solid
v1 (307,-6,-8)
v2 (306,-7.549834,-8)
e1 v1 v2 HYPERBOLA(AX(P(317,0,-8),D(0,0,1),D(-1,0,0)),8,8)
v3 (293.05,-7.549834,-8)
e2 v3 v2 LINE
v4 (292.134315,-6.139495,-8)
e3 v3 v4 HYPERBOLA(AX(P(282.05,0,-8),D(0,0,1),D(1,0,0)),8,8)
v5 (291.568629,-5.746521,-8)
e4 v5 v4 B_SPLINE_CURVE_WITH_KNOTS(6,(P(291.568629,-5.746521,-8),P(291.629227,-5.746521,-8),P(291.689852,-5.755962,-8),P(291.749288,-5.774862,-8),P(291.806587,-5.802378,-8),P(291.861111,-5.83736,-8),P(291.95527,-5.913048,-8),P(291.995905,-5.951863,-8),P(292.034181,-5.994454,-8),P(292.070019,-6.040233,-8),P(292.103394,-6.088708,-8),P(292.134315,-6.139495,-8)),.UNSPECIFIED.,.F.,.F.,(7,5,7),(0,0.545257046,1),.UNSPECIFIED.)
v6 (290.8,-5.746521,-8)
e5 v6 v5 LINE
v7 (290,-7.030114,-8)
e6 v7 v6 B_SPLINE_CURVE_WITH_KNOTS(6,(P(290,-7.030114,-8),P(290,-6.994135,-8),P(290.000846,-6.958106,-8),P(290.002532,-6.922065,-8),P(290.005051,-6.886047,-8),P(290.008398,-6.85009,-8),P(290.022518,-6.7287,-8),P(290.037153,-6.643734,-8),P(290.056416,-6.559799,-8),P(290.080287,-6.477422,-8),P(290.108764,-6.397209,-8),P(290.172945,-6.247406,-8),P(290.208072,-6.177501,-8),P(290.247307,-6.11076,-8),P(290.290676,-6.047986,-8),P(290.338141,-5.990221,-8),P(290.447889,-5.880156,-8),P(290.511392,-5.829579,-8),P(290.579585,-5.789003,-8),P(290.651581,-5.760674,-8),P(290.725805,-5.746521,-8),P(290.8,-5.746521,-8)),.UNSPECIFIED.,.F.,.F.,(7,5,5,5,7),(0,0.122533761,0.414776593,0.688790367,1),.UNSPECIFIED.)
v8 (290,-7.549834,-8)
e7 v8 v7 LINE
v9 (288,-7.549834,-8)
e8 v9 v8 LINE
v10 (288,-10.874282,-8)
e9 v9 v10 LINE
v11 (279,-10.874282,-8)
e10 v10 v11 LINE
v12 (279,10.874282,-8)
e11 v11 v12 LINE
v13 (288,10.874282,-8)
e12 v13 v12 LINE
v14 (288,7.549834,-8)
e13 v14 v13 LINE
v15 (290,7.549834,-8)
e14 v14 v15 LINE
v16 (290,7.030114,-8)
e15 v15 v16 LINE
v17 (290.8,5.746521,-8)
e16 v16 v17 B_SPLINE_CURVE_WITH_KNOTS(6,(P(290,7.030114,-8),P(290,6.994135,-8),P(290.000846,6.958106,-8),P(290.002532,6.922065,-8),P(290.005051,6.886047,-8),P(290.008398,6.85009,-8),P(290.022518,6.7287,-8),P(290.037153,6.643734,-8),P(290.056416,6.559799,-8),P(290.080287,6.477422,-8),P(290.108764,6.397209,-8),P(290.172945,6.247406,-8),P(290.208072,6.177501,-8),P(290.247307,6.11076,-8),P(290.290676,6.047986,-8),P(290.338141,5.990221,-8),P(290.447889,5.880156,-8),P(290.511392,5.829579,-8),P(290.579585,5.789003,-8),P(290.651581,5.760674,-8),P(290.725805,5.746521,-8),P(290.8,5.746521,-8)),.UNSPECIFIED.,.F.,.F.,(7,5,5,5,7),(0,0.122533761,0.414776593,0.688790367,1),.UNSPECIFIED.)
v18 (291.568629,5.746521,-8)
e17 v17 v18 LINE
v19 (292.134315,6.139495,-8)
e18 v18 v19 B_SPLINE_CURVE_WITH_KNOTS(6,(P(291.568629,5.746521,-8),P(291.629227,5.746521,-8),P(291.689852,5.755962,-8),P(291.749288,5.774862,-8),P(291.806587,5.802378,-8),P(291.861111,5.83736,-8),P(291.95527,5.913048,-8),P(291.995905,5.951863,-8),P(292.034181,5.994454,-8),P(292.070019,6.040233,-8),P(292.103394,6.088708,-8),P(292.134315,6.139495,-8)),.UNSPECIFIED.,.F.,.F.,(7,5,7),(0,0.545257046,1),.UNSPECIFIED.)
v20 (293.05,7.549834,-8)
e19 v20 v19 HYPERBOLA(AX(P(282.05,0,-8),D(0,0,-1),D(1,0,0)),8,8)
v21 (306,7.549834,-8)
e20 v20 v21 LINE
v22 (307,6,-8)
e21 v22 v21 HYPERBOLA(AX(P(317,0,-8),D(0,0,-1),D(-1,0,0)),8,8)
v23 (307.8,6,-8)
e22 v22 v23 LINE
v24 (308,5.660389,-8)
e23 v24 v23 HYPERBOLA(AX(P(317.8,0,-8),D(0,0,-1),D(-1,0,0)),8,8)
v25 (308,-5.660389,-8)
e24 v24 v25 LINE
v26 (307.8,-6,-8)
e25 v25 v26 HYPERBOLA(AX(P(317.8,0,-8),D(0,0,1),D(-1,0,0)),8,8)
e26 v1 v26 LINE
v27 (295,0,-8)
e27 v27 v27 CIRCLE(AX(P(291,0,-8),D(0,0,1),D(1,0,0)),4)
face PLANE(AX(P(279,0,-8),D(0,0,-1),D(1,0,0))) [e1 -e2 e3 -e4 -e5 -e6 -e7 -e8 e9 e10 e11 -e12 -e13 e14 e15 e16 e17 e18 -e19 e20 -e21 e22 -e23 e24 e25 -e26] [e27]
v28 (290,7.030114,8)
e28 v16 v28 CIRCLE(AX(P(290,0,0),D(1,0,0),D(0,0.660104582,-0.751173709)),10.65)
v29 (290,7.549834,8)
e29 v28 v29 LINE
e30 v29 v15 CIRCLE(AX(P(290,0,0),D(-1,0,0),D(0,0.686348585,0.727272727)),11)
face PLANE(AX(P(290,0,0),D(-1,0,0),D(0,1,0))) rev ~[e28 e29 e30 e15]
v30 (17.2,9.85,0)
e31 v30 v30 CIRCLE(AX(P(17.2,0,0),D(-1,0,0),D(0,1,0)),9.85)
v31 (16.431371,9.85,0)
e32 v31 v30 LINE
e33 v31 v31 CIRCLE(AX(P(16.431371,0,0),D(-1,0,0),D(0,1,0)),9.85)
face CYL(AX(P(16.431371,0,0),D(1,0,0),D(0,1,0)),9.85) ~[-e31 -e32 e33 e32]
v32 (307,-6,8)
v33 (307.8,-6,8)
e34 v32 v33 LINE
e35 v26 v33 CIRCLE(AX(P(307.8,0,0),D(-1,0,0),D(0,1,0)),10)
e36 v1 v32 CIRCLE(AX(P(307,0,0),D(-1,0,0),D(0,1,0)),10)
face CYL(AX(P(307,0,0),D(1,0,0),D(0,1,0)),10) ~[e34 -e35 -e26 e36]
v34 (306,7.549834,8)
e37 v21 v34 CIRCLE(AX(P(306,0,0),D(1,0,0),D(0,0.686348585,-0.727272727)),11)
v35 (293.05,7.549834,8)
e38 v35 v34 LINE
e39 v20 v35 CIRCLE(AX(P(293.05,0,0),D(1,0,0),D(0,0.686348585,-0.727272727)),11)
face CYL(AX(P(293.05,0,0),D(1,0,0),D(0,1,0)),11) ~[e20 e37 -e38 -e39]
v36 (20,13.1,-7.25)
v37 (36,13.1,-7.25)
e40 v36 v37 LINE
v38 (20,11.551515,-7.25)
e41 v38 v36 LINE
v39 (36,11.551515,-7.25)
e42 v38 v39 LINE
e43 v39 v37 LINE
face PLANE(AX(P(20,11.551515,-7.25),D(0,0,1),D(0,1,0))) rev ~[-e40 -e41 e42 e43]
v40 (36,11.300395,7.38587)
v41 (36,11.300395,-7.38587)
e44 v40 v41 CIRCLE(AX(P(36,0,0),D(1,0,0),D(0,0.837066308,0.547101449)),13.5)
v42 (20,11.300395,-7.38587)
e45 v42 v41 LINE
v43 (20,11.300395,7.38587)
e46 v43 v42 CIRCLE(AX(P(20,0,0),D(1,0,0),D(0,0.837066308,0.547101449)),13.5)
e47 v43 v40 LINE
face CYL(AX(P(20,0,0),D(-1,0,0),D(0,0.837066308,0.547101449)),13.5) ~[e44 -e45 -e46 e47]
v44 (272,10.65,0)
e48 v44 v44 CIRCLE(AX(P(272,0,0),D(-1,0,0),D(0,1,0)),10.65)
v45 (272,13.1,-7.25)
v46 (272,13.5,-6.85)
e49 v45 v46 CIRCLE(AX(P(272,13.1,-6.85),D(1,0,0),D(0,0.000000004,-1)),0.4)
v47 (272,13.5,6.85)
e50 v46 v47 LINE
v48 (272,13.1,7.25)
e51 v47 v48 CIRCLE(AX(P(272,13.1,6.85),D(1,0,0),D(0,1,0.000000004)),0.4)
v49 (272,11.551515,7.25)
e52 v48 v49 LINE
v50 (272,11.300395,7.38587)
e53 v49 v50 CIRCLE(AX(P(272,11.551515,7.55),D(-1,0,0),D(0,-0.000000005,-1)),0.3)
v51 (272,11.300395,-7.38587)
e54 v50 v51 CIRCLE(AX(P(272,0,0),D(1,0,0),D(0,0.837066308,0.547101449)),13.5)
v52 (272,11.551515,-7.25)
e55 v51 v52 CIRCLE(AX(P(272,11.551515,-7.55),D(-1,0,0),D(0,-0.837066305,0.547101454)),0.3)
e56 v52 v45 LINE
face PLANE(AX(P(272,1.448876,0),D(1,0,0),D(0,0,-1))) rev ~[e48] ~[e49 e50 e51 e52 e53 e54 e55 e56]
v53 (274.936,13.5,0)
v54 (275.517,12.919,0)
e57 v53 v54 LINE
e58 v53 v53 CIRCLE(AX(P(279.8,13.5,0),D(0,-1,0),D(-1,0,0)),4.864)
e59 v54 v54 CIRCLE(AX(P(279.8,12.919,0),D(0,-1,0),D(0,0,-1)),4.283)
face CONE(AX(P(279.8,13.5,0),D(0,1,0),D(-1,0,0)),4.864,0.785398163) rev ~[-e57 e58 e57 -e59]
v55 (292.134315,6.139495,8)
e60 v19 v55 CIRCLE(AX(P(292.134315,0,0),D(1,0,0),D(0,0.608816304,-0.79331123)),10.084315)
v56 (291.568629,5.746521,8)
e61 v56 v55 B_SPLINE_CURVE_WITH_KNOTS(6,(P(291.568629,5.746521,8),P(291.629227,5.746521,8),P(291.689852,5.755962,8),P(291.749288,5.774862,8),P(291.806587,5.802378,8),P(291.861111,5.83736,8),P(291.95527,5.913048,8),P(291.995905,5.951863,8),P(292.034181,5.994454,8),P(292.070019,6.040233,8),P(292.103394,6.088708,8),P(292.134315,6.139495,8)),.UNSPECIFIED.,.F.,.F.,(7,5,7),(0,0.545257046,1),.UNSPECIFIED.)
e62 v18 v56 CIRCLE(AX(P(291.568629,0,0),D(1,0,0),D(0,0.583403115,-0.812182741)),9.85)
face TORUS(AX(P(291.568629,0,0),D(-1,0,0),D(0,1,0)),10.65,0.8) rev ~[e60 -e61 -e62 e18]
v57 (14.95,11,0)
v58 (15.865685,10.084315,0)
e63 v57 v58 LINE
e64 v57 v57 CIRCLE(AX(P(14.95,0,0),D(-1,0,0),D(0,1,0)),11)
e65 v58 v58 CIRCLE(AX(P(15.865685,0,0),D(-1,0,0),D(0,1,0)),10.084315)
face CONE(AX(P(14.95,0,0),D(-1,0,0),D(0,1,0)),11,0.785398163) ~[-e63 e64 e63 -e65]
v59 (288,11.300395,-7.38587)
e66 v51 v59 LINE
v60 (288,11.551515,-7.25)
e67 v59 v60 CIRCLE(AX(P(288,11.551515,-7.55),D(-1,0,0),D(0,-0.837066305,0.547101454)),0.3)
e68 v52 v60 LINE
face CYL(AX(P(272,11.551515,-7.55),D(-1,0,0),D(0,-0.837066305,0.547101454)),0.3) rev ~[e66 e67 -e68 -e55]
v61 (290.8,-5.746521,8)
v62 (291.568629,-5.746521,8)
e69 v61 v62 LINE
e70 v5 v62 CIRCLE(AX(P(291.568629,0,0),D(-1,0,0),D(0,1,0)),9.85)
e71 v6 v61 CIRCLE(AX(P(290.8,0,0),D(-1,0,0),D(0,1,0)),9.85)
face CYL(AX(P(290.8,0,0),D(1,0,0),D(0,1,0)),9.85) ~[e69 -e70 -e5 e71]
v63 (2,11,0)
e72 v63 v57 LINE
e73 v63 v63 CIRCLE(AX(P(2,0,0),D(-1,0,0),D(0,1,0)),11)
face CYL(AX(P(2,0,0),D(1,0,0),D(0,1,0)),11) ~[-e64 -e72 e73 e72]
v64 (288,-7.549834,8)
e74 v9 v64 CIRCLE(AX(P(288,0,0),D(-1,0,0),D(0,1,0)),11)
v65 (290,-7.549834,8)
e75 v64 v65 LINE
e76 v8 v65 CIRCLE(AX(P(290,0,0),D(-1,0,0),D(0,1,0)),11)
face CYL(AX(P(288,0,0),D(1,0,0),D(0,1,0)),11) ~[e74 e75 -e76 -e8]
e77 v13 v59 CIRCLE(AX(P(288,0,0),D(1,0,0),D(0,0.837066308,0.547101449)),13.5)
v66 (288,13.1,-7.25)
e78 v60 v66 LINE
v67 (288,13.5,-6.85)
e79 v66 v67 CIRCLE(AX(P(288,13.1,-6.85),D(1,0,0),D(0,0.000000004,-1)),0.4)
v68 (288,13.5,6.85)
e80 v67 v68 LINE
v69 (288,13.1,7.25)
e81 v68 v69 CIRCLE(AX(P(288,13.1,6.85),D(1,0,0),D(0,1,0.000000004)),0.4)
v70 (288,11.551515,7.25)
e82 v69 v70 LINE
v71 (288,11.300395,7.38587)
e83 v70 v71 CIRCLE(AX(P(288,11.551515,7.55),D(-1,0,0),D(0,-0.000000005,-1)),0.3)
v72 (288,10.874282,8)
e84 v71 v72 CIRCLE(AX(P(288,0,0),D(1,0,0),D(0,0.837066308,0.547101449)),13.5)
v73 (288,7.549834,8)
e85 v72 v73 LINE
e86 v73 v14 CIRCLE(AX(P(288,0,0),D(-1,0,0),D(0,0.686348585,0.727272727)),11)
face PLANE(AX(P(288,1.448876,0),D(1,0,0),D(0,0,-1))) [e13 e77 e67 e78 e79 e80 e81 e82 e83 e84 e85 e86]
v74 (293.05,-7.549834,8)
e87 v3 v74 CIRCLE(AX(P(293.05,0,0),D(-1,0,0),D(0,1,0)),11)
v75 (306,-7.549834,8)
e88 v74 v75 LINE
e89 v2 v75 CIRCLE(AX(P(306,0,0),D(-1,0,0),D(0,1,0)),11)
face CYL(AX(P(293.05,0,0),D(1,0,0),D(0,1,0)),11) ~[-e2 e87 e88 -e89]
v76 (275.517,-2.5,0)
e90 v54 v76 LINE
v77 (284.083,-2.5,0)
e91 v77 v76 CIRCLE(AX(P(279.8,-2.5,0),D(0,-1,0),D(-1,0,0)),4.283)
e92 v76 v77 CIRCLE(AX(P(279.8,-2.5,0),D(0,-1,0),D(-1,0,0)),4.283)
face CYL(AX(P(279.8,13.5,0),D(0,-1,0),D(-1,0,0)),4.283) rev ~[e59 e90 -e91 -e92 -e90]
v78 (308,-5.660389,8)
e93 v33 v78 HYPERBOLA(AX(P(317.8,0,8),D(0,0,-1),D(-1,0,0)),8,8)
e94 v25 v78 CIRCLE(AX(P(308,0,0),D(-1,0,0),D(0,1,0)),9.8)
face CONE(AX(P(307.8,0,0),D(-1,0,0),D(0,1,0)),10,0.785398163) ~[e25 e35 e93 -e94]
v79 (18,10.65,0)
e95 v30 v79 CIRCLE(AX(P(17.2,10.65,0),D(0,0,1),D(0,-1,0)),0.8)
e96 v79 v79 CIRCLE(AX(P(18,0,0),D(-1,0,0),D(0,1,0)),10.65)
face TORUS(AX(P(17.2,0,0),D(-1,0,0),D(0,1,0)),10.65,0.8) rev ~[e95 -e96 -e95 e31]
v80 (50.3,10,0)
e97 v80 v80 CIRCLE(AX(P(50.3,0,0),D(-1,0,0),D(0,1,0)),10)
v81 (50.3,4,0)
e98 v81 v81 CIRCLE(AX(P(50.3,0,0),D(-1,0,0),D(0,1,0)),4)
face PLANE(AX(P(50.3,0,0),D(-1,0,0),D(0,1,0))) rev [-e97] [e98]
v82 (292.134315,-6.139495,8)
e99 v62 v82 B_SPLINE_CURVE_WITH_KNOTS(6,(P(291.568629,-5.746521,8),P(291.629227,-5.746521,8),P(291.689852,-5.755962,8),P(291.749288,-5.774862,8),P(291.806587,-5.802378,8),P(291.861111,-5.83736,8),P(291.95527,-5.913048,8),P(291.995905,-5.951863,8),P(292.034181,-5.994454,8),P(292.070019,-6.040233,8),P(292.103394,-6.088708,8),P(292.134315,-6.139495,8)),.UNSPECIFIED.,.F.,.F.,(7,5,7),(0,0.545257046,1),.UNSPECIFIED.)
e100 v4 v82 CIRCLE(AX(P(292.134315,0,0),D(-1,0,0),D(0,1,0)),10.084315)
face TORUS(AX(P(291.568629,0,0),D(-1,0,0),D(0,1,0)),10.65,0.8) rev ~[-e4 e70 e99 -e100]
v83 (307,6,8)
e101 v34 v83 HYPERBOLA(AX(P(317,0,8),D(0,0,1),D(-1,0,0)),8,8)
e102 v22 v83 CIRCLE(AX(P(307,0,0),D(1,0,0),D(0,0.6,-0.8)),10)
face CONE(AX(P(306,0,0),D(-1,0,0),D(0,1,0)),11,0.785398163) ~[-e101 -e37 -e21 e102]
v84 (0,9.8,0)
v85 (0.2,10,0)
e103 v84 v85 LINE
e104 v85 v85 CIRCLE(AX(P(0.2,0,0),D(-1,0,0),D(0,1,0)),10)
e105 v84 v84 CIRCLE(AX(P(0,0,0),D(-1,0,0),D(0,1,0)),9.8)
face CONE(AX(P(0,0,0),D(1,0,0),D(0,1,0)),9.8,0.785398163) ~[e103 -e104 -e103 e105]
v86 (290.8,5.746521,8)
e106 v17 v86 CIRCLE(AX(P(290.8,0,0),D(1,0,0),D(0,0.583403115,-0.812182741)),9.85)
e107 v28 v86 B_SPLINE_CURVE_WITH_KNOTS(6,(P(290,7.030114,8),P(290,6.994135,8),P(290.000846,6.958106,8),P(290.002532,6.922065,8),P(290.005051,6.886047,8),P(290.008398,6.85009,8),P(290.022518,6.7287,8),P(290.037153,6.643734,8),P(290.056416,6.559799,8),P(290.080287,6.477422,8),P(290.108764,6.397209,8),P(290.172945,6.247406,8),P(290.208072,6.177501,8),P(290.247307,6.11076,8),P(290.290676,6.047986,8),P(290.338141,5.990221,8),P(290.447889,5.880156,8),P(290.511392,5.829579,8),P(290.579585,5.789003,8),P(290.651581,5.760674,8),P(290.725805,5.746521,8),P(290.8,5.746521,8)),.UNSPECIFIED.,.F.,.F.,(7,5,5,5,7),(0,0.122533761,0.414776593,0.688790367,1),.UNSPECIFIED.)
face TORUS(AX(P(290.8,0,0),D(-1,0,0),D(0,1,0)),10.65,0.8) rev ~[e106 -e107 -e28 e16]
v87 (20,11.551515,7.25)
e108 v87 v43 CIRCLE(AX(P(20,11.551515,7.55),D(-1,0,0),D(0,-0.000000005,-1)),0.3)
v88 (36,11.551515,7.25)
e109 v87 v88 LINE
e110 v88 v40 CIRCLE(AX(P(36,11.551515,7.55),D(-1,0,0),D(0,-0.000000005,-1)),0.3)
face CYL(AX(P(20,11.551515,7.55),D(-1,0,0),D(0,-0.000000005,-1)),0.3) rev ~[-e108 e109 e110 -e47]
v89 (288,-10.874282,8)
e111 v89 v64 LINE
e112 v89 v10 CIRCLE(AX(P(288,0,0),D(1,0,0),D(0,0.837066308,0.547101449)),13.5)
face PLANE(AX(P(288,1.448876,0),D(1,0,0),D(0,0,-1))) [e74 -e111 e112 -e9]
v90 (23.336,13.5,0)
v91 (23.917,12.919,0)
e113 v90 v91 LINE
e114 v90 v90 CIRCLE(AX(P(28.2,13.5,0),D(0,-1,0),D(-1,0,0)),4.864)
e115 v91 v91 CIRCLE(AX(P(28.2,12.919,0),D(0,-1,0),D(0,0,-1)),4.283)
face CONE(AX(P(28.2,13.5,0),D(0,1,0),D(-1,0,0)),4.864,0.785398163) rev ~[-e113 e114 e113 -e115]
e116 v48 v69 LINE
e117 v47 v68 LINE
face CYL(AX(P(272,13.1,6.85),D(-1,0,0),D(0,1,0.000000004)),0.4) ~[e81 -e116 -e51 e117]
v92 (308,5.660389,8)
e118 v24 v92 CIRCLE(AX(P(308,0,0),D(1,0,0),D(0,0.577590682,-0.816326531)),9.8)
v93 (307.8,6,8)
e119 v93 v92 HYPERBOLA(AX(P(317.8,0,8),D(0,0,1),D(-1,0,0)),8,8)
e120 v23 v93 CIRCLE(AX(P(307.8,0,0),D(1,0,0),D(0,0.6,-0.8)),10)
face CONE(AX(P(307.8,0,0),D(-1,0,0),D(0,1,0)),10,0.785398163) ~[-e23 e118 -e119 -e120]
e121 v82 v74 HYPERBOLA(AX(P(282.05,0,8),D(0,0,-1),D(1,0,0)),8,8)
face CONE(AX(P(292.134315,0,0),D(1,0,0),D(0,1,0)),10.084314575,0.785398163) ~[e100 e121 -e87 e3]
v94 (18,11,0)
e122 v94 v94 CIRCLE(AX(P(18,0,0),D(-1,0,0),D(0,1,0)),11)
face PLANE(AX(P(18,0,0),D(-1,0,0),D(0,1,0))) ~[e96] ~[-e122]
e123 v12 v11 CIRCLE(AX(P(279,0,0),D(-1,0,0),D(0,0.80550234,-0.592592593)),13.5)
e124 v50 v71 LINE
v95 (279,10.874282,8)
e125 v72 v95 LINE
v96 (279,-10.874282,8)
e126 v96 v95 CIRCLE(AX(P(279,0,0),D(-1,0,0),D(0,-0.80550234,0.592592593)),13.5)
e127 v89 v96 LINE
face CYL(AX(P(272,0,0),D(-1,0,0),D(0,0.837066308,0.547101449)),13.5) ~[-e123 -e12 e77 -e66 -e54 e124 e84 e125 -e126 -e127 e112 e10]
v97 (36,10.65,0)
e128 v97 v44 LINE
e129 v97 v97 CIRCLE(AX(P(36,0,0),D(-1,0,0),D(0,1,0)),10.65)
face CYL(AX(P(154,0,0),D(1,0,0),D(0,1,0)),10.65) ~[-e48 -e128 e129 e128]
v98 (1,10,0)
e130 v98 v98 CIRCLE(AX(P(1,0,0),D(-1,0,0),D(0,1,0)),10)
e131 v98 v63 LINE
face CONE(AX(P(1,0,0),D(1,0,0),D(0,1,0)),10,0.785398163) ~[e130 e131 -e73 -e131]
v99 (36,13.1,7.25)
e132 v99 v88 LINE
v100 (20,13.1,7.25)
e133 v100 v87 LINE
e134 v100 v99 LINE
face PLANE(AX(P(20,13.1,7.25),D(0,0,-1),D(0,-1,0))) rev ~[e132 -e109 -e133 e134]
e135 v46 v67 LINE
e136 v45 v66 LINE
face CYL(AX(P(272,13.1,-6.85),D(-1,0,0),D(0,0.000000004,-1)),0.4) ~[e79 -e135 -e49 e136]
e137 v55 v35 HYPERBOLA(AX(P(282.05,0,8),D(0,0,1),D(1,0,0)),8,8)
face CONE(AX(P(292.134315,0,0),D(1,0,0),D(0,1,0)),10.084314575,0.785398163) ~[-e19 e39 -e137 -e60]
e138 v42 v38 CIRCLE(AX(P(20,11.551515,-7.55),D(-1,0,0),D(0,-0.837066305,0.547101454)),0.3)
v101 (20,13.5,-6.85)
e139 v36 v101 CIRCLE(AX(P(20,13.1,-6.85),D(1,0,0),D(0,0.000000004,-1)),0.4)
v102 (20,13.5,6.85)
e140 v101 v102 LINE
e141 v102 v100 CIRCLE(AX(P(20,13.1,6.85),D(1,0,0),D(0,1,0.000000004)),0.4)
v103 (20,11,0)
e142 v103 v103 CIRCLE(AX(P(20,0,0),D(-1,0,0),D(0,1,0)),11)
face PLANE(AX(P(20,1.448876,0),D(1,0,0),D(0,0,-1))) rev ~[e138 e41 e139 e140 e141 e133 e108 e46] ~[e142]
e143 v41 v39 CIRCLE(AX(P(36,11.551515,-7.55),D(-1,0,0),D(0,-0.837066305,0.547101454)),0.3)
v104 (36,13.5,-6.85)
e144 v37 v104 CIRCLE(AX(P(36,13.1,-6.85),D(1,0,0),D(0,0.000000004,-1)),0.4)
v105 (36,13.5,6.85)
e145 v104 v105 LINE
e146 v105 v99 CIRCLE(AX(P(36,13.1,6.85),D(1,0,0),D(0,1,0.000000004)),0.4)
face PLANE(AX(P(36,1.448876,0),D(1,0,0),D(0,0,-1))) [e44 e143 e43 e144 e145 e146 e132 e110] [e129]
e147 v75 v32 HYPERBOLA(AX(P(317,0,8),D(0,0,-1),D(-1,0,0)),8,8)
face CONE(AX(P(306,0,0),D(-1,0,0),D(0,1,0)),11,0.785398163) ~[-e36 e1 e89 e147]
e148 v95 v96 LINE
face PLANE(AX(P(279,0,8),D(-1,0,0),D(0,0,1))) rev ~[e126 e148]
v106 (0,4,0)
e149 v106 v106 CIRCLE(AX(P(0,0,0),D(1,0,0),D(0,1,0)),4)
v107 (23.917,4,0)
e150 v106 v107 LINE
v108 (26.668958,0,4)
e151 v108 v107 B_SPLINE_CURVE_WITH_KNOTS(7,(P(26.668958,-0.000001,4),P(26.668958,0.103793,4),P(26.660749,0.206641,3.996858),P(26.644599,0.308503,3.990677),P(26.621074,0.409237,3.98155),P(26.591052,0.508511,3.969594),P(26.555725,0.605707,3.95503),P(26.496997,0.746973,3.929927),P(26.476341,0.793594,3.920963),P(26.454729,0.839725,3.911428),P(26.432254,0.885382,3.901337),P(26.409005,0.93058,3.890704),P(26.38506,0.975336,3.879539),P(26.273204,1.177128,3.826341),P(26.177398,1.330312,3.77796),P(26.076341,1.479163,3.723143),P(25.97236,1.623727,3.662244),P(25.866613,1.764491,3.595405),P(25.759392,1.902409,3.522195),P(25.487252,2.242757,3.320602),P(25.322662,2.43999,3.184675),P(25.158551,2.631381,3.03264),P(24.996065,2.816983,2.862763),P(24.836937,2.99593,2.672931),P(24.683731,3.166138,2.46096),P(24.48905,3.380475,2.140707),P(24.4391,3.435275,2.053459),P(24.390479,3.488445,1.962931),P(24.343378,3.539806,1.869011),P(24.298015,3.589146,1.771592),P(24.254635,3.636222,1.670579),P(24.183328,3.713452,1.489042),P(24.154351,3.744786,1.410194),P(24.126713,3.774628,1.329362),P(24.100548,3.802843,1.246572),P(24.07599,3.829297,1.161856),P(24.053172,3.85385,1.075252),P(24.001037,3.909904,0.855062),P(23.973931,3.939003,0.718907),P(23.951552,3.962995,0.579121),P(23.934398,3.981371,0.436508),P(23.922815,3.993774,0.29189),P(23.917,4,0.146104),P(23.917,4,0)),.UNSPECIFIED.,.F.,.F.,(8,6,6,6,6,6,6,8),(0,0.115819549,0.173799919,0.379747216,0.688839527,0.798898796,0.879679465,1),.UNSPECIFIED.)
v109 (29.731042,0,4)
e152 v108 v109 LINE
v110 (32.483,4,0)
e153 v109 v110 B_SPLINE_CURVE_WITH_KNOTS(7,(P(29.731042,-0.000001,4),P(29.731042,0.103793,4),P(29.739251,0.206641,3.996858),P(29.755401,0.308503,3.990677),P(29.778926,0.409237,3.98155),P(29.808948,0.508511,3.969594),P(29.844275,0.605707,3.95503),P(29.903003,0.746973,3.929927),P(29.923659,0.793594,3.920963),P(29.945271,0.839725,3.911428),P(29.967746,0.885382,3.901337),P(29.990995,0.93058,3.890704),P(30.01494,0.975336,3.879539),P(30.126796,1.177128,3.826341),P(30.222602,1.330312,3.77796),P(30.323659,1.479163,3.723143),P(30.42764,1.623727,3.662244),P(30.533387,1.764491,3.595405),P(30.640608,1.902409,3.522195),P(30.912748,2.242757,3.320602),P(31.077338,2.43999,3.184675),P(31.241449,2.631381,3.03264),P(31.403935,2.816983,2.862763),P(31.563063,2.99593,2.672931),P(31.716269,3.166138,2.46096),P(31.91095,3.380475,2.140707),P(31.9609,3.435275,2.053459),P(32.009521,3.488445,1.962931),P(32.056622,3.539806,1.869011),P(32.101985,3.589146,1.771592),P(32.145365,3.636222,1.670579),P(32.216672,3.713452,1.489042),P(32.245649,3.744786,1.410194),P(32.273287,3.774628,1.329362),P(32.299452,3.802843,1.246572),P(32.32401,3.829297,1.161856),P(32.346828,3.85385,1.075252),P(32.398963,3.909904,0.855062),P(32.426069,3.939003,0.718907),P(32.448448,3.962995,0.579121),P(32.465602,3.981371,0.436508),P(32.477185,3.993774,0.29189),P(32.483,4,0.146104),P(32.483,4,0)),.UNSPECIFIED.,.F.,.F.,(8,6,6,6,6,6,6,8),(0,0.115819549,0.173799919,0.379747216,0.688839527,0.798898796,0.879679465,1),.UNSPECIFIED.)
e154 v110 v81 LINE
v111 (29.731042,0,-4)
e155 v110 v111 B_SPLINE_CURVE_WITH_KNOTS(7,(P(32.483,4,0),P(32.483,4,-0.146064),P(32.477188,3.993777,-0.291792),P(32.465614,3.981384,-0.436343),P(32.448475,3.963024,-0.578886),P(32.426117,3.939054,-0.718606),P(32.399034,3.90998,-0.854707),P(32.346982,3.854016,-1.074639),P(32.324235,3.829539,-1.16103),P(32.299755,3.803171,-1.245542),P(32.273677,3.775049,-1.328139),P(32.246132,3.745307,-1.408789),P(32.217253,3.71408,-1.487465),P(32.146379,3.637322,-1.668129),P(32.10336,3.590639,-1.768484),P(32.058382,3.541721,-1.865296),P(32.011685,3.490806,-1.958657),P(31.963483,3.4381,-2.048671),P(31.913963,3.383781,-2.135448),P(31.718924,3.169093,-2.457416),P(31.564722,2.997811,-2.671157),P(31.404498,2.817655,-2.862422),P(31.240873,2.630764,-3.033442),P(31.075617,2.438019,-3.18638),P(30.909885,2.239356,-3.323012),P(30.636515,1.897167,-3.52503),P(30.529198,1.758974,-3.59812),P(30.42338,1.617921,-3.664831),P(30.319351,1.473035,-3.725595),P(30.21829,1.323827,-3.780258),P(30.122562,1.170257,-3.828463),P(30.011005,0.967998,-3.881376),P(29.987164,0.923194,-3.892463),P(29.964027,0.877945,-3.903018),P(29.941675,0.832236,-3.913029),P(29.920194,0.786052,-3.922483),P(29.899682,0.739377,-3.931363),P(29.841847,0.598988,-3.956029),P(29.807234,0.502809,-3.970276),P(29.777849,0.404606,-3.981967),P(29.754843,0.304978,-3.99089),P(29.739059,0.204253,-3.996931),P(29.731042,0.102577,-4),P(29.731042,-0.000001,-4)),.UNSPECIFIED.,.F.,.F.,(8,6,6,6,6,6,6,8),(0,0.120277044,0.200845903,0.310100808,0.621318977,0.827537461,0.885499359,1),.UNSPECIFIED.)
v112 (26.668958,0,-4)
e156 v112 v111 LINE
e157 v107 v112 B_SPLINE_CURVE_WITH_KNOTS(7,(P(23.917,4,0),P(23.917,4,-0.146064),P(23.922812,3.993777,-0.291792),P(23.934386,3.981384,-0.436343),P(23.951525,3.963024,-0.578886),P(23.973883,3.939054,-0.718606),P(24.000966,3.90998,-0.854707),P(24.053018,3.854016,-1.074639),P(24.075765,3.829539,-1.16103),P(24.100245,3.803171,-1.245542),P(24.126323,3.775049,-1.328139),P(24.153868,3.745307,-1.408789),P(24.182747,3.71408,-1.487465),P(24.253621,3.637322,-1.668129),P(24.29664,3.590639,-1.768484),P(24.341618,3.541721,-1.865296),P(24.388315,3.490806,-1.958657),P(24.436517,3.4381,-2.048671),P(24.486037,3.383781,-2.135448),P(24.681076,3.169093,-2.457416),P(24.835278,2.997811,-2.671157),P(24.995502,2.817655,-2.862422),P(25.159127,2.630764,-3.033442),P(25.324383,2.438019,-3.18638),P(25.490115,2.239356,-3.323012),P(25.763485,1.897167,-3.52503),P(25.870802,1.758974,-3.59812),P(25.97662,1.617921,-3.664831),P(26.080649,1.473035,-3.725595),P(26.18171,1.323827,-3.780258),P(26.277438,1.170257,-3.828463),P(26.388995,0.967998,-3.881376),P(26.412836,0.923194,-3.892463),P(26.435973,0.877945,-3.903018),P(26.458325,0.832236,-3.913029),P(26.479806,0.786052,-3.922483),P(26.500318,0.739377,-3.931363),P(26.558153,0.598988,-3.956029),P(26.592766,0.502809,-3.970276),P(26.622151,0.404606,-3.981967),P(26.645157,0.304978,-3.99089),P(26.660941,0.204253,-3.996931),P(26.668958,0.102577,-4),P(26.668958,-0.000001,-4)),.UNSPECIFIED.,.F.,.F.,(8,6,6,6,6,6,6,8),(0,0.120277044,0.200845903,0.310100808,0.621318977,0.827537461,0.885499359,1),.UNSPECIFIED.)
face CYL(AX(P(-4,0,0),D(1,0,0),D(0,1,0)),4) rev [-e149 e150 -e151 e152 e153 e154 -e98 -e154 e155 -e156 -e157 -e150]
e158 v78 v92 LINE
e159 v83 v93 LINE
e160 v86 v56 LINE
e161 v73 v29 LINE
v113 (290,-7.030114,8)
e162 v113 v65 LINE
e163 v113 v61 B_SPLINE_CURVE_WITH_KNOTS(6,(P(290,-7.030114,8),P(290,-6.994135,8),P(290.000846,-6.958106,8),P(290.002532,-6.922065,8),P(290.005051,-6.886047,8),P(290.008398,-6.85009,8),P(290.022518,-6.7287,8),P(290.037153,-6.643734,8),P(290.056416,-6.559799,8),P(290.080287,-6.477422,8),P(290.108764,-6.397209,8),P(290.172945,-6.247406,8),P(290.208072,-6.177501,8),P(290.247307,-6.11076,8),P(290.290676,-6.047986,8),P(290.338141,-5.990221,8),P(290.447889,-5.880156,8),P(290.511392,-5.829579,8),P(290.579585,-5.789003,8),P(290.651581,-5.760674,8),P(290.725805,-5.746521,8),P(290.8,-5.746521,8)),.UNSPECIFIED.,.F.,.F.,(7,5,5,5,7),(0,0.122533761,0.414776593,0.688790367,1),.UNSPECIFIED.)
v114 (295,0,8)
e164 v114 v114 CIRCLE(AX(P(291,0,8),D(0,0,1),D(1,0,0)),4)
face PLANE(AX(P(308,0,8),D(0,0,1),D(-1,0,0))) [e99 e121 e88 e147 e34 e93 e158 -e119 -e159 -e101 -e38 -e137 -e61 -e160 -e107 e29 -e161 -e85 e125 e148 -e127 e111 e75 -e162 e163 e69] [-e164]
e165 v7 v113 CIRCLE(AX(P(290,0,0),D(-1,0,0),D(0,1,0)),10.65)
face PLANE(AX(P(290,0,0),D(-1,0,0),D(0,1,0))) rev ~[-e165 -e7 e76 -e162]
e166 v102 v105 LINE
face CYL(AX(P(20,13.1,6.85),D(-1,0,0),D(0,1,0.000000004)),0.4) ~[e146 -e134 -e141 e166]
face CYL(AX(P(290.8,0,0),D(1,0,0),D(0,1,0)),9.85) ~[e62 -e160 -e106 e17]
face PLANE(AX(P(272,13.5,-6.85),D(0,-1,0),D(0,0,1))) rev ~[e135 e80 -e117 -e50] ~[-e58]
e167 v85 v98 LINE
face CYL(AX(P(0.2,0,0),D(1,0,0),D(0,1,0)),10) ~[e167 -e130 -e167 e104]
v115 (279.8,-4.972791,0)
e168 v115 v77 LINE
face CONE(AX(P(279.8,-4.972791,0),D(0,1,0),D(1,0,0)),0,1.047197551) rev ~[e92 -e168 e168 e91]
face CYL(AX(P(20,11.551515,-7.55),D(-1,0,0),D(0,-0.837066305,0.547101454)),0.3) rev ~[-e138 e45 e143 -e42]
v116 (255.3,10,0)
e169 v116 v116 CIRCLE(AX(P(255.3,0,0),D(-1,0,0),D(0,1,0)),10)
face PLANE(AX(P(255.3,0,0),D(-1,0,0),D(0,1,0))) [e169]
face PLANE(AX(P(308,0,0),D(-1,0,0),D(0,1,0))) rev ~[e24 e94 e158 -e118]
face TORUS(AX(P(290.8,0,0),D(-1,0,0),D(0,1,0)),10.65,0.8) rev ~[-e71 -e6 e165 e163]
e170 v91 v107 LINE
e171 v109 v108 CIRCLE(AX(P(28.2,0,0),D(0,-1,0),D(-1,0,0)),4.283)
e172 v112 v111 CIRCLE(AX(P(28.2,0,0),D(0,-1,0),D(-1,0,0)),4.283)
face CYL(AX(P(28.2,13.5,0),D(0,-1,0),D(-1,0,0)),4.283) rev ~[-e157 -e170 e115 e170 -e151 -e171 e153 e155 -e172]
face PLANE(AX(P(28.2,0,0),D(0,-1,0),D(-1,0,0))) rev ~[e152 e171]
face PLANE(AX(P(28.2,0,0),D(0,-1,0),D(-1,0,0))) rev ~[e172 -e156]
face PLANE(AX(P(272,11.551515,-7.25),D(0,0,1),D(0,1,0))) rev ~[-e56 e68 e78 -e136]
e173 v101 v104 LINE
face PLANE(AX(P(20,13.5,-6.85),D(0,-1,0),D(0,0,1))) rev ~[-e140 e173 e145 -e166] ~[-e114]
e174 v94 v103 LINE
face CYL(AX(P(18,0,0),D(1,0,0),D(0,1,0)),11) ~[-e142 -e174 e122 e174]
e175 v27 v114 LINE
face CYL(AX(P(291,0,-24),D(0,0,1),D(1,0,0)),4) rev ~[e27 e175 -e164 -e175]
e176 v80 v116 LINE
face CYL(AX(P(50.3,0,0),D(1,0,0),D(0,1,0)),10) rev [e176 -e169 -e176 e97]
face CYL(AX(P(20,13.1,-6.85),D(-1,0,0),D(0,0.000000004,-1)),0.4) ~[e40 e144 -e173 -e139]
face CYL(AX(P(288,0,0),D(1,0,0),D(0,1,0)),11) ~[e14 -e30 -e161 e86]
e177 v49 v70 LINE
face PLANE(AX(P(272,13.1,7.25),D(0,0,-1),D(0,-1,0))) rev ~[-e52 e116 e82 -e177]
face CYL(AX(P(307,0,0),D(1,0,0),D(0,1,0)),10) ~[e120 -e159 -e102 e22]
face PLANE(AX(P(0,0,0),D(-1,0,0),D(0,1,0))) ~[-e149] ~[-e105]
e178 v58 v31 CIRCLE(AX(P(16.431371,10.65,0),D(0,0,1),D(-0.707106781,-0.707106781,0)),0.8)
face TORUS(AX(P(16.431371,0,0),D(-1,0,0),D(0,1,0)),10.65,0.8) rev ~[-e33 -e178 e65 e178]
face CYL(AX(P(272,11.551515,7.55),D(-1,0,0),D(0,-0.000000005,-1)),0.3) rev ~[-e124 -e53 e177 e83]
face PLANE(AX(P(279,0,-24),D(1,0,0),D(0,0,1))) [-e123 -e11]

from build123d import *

# Parameters (mm, degrees)
AUFSATZ_LINEAR_AUSTRAGEN1_DEPTH      = 16
SKIZZE3_W                            = 236
SKIZZE3_H                            = 10.65
AUFSATZ_LINEAR_AUSTRAGEN2_DEPTH      = 16
SCHNITT_LINEAR_AUSTRAGEN1_DEPTH      = 13.5
SCHNITT_LINEAR_AUSTRAGEN1_DEPTH_BACK = 13.5
BOHRUNG1_D                           = 8
BOHRUNG2_D                           = 8.566
BOHRUNG2_DEPTH                       = 13.5
BOHRUNG2_CSINK_D                     = 9.728
BOHRUNG2_CSINK_ANGLE                 = 90
BOHRUNG3_D                           = 8.566
BOHRUNG3_DEPTH                       = 16
BOHRUNG3_CSINK_D                     = 9.728
BOHRUNG3_CSINK_ANGLE                 = 90
BOHRUNG3_TIP                         = 2.472791203


with BuildPart() as part:
    # Skizze1 → Rotation1 (revolve)
    with BuildSketch(Plane.XY):
        with BuildLine():
            Line((0, 0), (0, 9.8))
            Line((0, 9.8), (0.2, 10))
            Line((0.2, 10), (1, 10))
            Line((1, 10), (2, 11))
            Line((2, 11), (14.95, 11))
            Line((14.95, 11), (15.865685425, 10.084314575))
            ThreePointArc((15.865685425, 10.084314575), (16.125224104, 9.910896374), (16.43137085, 9.85))
            Line((16.43137085, 9.85), (17.2, 9.85))
            ThreePointArc((17.2, 9.85), (17.765685425, 10.084314575), (18, 10.65))
            Line((18, 10.65), (18, 11))
            Line((18, 11), (20, 11))
            Line((20, 11), (20, 0))
            Line((20, 0), (0, 0))
        make_face()
    revolve(axis=Axis((20, 0, 0), (-1, 0, 0)))

    # Skizze2 → Aufsatz-Linear austragen1 (add)
    with BuildSketch(Plane(origin=(20, 0, 0), x_dir=(0, 0, -1), z_dir=(1, 0, 0))):
        with BuildLine():
            Line((7.25, 11.551515052), (7.25, 13.1))
            ThreePointArc((7.25, 13.1), (7.132842712, 13.382842712), (6.85, 13.5))
            Line((6.85, 13.5), (-6.85, 13.5))
            ThreePointArc((-6.85, 13.5), (-7.132842712, 13.382842712), (-7.25, 13.1))
            Line((-7.25, 13.1), (-7.25, 11.551515052))
            ThreePointArc((-7.25, 11.551515052), (-7.286144803, 11.408754992), (-7.385869565, 11.30039516))
            ThreePointArc((-7.385869565, 11.30039516), (0, -13.5), (7.385869565, 11.30039516))
            ThreePointArc((7.385869565, 11.30039516), (7.286144803, 11.408754992), (7.25, 11.551515052))
        make_face()
    extrude(amount=AUFSATZ_LINEAR_AUSTRAGEN1_DEPTH)

    # Skizze3 → Rotation2 (revolve)
    with BuildSketch(Plane.XY):
        with Locations((154, 5.325)):
            Rectangle(SKIZZE3_W, SKIZZE3_H)
    revolve(axis=Axis((272, 0, 0), (-1, 0, 0)))

    # Skizze4 → Aufsatz-Linear austragen2 (add)
    with BuildSketch(Plane(origin=(272, 0, 0), x_dir=(0, 0, -1), z_dir=(1, 0, 0))):
        with BuildLine():
            Line((7.25, 11.551515052), (7.25, 13.1))
            ThreePointArc((7.25, 13.1), (7.132842712, 13.382842712), (6.85, 13.5))
            Line((6.85, 13.5), (-6.85, 13.5))
            ThreePointArc((-6.85, 13.5), (-7.132842712, 13.382842712), (-7.25, 13.1))
            Line((-7.25, 13.1), (-7.25, 11.551515052))
            ThreePointArc((-7.25, 11.551515052), (-7.286144803, 11.408754992), (-7.385869565, 11.30039516))
            ThreePointArc((-7.385869565, 11.30039516), (0, -13.5), (7.385869565, 11.30039516))
            ThreePointArc((7.385869565, 11.30039516), (7.286144803, 11.408754992), (7.25, 11.551515052))
        make_face()
    extrude(amount=AUFSATZ_LINEAR_AUSTRAGEN2_DEPTH)

    # Skizze5 → Rotation3 (revolve)
    with BuildSketch(Plane.XY):
        with BuildLine():
            Line((288, 0), (288, 11))
            Line((288, 11), (290, 11))
            Line((290, 11), (290, 10.65))
            ThreePointArc((290, 10.65), (290.234314575, 10.084314575), (290.8, 9.85))
            Line((290.8, 9.85), (291.56862915, 9.85))
            ThreePointArc((291.56862915, 9.85), (291.874775896, 9.910896374), (292.134314575, 10.084314575))
            Line((292.134314575, 10.084314575), (293.05, 11))
            Line((293.05, 11), (306, 11))
            Line((306, 11), (307, 10))
            Line((307, 10), (307.8, 10))
            Line((307.8, 10), (308, 9.8))
            Line((308, 9.8), (308, 0))
            Line((308, 0), (288, 0))
        make_face()
    revolve(axis=Axis((308, 0, 0), (-1, 0, 0)))

    # Skizze6 → Schnitt-Linear austragen1 (cut, two sides: drawn at the far end of the back side and taken through both)
    with BuildSketch(Plane(origin=(0, 0, 0), x_dir=(1, 0, 0), z_dir=(0, 1, 0)).offset(-SCHNITT_LINEAR_AUSTRAGEN1_DEPTH_BACK)):
        Polygon((279, 24), (279, 8), (308, 8), (308, -8), (279, -8), (279, -24), (324, -24), (324, 24), align=None)
    extrude(amount=SCHNITT_LINEAR_AUSTRAGEN1_DEPTH + SCHNITT_LINEAR_AUSTRAGEN1_DEPTH_BACK, mode=Mode.SUBTRACT)

    # Bohrung1 (through all)
    with Locations(Plane(origin=(0, 0, -8), x_dir=(-1, 0, 0), z_dir=(0, 0, -1))):
        with Locations((-291, 0)):
            Hole(BOHRUNG1_D / 2)

    # Bohrung2
    with Locations(Plane(origin=(0, 13.5, 0), x_dir=(1, 0, 0), z_dir=(0, 1, 0))):
        with Locations((28.2, 0)):
            CounterSinkHole(BOHRUNG2_D / 2, BOHRUNG2_CSINK_D / 2, depth=BOHRUNG2_DEPTH, counter_sink_angle=BOHRUNG2_CSINK_ANGLE)

    # Bohrung3
    with Locations(Plane(origin=(0, 13.5, 0), x_dir=(1, 0, 0), z_dir=(0, 1, 0))):
        with Locations((279.8, 0)):
            CounterSinkHole(BOHRUNG3_D / 2, BOHRUNG3_CSINK_D / 2, depth=BOHRUNG3_DEPTH, counter_sink_angle=BOHRUNG3_CSINK_ANGLE)
            with Locations((0, 0, -(BOHRUNG3_DEPTH + BOHRUNG3_TIP / 2))):  # 120° drill point
                Cone(0, BOHRUNG3_D / 2, BOHRUNG3_TIP, mode=Mode.SUBTRACT)

    # Skizze13 → Schnitt-Rotation1 (revolve, cut)
    with BuildSketch(Plane.XY):
        Polygon((-4, 0), (-4, 4), (50.3, 4), (50.3, 10), (255.3, 10), (255.3, 0), align=None)
    revolve(axis=Axis((255.3, 0, 0), (-1, 0, 0)), mode=Mode.SUBTRACT)


solid = part.part
